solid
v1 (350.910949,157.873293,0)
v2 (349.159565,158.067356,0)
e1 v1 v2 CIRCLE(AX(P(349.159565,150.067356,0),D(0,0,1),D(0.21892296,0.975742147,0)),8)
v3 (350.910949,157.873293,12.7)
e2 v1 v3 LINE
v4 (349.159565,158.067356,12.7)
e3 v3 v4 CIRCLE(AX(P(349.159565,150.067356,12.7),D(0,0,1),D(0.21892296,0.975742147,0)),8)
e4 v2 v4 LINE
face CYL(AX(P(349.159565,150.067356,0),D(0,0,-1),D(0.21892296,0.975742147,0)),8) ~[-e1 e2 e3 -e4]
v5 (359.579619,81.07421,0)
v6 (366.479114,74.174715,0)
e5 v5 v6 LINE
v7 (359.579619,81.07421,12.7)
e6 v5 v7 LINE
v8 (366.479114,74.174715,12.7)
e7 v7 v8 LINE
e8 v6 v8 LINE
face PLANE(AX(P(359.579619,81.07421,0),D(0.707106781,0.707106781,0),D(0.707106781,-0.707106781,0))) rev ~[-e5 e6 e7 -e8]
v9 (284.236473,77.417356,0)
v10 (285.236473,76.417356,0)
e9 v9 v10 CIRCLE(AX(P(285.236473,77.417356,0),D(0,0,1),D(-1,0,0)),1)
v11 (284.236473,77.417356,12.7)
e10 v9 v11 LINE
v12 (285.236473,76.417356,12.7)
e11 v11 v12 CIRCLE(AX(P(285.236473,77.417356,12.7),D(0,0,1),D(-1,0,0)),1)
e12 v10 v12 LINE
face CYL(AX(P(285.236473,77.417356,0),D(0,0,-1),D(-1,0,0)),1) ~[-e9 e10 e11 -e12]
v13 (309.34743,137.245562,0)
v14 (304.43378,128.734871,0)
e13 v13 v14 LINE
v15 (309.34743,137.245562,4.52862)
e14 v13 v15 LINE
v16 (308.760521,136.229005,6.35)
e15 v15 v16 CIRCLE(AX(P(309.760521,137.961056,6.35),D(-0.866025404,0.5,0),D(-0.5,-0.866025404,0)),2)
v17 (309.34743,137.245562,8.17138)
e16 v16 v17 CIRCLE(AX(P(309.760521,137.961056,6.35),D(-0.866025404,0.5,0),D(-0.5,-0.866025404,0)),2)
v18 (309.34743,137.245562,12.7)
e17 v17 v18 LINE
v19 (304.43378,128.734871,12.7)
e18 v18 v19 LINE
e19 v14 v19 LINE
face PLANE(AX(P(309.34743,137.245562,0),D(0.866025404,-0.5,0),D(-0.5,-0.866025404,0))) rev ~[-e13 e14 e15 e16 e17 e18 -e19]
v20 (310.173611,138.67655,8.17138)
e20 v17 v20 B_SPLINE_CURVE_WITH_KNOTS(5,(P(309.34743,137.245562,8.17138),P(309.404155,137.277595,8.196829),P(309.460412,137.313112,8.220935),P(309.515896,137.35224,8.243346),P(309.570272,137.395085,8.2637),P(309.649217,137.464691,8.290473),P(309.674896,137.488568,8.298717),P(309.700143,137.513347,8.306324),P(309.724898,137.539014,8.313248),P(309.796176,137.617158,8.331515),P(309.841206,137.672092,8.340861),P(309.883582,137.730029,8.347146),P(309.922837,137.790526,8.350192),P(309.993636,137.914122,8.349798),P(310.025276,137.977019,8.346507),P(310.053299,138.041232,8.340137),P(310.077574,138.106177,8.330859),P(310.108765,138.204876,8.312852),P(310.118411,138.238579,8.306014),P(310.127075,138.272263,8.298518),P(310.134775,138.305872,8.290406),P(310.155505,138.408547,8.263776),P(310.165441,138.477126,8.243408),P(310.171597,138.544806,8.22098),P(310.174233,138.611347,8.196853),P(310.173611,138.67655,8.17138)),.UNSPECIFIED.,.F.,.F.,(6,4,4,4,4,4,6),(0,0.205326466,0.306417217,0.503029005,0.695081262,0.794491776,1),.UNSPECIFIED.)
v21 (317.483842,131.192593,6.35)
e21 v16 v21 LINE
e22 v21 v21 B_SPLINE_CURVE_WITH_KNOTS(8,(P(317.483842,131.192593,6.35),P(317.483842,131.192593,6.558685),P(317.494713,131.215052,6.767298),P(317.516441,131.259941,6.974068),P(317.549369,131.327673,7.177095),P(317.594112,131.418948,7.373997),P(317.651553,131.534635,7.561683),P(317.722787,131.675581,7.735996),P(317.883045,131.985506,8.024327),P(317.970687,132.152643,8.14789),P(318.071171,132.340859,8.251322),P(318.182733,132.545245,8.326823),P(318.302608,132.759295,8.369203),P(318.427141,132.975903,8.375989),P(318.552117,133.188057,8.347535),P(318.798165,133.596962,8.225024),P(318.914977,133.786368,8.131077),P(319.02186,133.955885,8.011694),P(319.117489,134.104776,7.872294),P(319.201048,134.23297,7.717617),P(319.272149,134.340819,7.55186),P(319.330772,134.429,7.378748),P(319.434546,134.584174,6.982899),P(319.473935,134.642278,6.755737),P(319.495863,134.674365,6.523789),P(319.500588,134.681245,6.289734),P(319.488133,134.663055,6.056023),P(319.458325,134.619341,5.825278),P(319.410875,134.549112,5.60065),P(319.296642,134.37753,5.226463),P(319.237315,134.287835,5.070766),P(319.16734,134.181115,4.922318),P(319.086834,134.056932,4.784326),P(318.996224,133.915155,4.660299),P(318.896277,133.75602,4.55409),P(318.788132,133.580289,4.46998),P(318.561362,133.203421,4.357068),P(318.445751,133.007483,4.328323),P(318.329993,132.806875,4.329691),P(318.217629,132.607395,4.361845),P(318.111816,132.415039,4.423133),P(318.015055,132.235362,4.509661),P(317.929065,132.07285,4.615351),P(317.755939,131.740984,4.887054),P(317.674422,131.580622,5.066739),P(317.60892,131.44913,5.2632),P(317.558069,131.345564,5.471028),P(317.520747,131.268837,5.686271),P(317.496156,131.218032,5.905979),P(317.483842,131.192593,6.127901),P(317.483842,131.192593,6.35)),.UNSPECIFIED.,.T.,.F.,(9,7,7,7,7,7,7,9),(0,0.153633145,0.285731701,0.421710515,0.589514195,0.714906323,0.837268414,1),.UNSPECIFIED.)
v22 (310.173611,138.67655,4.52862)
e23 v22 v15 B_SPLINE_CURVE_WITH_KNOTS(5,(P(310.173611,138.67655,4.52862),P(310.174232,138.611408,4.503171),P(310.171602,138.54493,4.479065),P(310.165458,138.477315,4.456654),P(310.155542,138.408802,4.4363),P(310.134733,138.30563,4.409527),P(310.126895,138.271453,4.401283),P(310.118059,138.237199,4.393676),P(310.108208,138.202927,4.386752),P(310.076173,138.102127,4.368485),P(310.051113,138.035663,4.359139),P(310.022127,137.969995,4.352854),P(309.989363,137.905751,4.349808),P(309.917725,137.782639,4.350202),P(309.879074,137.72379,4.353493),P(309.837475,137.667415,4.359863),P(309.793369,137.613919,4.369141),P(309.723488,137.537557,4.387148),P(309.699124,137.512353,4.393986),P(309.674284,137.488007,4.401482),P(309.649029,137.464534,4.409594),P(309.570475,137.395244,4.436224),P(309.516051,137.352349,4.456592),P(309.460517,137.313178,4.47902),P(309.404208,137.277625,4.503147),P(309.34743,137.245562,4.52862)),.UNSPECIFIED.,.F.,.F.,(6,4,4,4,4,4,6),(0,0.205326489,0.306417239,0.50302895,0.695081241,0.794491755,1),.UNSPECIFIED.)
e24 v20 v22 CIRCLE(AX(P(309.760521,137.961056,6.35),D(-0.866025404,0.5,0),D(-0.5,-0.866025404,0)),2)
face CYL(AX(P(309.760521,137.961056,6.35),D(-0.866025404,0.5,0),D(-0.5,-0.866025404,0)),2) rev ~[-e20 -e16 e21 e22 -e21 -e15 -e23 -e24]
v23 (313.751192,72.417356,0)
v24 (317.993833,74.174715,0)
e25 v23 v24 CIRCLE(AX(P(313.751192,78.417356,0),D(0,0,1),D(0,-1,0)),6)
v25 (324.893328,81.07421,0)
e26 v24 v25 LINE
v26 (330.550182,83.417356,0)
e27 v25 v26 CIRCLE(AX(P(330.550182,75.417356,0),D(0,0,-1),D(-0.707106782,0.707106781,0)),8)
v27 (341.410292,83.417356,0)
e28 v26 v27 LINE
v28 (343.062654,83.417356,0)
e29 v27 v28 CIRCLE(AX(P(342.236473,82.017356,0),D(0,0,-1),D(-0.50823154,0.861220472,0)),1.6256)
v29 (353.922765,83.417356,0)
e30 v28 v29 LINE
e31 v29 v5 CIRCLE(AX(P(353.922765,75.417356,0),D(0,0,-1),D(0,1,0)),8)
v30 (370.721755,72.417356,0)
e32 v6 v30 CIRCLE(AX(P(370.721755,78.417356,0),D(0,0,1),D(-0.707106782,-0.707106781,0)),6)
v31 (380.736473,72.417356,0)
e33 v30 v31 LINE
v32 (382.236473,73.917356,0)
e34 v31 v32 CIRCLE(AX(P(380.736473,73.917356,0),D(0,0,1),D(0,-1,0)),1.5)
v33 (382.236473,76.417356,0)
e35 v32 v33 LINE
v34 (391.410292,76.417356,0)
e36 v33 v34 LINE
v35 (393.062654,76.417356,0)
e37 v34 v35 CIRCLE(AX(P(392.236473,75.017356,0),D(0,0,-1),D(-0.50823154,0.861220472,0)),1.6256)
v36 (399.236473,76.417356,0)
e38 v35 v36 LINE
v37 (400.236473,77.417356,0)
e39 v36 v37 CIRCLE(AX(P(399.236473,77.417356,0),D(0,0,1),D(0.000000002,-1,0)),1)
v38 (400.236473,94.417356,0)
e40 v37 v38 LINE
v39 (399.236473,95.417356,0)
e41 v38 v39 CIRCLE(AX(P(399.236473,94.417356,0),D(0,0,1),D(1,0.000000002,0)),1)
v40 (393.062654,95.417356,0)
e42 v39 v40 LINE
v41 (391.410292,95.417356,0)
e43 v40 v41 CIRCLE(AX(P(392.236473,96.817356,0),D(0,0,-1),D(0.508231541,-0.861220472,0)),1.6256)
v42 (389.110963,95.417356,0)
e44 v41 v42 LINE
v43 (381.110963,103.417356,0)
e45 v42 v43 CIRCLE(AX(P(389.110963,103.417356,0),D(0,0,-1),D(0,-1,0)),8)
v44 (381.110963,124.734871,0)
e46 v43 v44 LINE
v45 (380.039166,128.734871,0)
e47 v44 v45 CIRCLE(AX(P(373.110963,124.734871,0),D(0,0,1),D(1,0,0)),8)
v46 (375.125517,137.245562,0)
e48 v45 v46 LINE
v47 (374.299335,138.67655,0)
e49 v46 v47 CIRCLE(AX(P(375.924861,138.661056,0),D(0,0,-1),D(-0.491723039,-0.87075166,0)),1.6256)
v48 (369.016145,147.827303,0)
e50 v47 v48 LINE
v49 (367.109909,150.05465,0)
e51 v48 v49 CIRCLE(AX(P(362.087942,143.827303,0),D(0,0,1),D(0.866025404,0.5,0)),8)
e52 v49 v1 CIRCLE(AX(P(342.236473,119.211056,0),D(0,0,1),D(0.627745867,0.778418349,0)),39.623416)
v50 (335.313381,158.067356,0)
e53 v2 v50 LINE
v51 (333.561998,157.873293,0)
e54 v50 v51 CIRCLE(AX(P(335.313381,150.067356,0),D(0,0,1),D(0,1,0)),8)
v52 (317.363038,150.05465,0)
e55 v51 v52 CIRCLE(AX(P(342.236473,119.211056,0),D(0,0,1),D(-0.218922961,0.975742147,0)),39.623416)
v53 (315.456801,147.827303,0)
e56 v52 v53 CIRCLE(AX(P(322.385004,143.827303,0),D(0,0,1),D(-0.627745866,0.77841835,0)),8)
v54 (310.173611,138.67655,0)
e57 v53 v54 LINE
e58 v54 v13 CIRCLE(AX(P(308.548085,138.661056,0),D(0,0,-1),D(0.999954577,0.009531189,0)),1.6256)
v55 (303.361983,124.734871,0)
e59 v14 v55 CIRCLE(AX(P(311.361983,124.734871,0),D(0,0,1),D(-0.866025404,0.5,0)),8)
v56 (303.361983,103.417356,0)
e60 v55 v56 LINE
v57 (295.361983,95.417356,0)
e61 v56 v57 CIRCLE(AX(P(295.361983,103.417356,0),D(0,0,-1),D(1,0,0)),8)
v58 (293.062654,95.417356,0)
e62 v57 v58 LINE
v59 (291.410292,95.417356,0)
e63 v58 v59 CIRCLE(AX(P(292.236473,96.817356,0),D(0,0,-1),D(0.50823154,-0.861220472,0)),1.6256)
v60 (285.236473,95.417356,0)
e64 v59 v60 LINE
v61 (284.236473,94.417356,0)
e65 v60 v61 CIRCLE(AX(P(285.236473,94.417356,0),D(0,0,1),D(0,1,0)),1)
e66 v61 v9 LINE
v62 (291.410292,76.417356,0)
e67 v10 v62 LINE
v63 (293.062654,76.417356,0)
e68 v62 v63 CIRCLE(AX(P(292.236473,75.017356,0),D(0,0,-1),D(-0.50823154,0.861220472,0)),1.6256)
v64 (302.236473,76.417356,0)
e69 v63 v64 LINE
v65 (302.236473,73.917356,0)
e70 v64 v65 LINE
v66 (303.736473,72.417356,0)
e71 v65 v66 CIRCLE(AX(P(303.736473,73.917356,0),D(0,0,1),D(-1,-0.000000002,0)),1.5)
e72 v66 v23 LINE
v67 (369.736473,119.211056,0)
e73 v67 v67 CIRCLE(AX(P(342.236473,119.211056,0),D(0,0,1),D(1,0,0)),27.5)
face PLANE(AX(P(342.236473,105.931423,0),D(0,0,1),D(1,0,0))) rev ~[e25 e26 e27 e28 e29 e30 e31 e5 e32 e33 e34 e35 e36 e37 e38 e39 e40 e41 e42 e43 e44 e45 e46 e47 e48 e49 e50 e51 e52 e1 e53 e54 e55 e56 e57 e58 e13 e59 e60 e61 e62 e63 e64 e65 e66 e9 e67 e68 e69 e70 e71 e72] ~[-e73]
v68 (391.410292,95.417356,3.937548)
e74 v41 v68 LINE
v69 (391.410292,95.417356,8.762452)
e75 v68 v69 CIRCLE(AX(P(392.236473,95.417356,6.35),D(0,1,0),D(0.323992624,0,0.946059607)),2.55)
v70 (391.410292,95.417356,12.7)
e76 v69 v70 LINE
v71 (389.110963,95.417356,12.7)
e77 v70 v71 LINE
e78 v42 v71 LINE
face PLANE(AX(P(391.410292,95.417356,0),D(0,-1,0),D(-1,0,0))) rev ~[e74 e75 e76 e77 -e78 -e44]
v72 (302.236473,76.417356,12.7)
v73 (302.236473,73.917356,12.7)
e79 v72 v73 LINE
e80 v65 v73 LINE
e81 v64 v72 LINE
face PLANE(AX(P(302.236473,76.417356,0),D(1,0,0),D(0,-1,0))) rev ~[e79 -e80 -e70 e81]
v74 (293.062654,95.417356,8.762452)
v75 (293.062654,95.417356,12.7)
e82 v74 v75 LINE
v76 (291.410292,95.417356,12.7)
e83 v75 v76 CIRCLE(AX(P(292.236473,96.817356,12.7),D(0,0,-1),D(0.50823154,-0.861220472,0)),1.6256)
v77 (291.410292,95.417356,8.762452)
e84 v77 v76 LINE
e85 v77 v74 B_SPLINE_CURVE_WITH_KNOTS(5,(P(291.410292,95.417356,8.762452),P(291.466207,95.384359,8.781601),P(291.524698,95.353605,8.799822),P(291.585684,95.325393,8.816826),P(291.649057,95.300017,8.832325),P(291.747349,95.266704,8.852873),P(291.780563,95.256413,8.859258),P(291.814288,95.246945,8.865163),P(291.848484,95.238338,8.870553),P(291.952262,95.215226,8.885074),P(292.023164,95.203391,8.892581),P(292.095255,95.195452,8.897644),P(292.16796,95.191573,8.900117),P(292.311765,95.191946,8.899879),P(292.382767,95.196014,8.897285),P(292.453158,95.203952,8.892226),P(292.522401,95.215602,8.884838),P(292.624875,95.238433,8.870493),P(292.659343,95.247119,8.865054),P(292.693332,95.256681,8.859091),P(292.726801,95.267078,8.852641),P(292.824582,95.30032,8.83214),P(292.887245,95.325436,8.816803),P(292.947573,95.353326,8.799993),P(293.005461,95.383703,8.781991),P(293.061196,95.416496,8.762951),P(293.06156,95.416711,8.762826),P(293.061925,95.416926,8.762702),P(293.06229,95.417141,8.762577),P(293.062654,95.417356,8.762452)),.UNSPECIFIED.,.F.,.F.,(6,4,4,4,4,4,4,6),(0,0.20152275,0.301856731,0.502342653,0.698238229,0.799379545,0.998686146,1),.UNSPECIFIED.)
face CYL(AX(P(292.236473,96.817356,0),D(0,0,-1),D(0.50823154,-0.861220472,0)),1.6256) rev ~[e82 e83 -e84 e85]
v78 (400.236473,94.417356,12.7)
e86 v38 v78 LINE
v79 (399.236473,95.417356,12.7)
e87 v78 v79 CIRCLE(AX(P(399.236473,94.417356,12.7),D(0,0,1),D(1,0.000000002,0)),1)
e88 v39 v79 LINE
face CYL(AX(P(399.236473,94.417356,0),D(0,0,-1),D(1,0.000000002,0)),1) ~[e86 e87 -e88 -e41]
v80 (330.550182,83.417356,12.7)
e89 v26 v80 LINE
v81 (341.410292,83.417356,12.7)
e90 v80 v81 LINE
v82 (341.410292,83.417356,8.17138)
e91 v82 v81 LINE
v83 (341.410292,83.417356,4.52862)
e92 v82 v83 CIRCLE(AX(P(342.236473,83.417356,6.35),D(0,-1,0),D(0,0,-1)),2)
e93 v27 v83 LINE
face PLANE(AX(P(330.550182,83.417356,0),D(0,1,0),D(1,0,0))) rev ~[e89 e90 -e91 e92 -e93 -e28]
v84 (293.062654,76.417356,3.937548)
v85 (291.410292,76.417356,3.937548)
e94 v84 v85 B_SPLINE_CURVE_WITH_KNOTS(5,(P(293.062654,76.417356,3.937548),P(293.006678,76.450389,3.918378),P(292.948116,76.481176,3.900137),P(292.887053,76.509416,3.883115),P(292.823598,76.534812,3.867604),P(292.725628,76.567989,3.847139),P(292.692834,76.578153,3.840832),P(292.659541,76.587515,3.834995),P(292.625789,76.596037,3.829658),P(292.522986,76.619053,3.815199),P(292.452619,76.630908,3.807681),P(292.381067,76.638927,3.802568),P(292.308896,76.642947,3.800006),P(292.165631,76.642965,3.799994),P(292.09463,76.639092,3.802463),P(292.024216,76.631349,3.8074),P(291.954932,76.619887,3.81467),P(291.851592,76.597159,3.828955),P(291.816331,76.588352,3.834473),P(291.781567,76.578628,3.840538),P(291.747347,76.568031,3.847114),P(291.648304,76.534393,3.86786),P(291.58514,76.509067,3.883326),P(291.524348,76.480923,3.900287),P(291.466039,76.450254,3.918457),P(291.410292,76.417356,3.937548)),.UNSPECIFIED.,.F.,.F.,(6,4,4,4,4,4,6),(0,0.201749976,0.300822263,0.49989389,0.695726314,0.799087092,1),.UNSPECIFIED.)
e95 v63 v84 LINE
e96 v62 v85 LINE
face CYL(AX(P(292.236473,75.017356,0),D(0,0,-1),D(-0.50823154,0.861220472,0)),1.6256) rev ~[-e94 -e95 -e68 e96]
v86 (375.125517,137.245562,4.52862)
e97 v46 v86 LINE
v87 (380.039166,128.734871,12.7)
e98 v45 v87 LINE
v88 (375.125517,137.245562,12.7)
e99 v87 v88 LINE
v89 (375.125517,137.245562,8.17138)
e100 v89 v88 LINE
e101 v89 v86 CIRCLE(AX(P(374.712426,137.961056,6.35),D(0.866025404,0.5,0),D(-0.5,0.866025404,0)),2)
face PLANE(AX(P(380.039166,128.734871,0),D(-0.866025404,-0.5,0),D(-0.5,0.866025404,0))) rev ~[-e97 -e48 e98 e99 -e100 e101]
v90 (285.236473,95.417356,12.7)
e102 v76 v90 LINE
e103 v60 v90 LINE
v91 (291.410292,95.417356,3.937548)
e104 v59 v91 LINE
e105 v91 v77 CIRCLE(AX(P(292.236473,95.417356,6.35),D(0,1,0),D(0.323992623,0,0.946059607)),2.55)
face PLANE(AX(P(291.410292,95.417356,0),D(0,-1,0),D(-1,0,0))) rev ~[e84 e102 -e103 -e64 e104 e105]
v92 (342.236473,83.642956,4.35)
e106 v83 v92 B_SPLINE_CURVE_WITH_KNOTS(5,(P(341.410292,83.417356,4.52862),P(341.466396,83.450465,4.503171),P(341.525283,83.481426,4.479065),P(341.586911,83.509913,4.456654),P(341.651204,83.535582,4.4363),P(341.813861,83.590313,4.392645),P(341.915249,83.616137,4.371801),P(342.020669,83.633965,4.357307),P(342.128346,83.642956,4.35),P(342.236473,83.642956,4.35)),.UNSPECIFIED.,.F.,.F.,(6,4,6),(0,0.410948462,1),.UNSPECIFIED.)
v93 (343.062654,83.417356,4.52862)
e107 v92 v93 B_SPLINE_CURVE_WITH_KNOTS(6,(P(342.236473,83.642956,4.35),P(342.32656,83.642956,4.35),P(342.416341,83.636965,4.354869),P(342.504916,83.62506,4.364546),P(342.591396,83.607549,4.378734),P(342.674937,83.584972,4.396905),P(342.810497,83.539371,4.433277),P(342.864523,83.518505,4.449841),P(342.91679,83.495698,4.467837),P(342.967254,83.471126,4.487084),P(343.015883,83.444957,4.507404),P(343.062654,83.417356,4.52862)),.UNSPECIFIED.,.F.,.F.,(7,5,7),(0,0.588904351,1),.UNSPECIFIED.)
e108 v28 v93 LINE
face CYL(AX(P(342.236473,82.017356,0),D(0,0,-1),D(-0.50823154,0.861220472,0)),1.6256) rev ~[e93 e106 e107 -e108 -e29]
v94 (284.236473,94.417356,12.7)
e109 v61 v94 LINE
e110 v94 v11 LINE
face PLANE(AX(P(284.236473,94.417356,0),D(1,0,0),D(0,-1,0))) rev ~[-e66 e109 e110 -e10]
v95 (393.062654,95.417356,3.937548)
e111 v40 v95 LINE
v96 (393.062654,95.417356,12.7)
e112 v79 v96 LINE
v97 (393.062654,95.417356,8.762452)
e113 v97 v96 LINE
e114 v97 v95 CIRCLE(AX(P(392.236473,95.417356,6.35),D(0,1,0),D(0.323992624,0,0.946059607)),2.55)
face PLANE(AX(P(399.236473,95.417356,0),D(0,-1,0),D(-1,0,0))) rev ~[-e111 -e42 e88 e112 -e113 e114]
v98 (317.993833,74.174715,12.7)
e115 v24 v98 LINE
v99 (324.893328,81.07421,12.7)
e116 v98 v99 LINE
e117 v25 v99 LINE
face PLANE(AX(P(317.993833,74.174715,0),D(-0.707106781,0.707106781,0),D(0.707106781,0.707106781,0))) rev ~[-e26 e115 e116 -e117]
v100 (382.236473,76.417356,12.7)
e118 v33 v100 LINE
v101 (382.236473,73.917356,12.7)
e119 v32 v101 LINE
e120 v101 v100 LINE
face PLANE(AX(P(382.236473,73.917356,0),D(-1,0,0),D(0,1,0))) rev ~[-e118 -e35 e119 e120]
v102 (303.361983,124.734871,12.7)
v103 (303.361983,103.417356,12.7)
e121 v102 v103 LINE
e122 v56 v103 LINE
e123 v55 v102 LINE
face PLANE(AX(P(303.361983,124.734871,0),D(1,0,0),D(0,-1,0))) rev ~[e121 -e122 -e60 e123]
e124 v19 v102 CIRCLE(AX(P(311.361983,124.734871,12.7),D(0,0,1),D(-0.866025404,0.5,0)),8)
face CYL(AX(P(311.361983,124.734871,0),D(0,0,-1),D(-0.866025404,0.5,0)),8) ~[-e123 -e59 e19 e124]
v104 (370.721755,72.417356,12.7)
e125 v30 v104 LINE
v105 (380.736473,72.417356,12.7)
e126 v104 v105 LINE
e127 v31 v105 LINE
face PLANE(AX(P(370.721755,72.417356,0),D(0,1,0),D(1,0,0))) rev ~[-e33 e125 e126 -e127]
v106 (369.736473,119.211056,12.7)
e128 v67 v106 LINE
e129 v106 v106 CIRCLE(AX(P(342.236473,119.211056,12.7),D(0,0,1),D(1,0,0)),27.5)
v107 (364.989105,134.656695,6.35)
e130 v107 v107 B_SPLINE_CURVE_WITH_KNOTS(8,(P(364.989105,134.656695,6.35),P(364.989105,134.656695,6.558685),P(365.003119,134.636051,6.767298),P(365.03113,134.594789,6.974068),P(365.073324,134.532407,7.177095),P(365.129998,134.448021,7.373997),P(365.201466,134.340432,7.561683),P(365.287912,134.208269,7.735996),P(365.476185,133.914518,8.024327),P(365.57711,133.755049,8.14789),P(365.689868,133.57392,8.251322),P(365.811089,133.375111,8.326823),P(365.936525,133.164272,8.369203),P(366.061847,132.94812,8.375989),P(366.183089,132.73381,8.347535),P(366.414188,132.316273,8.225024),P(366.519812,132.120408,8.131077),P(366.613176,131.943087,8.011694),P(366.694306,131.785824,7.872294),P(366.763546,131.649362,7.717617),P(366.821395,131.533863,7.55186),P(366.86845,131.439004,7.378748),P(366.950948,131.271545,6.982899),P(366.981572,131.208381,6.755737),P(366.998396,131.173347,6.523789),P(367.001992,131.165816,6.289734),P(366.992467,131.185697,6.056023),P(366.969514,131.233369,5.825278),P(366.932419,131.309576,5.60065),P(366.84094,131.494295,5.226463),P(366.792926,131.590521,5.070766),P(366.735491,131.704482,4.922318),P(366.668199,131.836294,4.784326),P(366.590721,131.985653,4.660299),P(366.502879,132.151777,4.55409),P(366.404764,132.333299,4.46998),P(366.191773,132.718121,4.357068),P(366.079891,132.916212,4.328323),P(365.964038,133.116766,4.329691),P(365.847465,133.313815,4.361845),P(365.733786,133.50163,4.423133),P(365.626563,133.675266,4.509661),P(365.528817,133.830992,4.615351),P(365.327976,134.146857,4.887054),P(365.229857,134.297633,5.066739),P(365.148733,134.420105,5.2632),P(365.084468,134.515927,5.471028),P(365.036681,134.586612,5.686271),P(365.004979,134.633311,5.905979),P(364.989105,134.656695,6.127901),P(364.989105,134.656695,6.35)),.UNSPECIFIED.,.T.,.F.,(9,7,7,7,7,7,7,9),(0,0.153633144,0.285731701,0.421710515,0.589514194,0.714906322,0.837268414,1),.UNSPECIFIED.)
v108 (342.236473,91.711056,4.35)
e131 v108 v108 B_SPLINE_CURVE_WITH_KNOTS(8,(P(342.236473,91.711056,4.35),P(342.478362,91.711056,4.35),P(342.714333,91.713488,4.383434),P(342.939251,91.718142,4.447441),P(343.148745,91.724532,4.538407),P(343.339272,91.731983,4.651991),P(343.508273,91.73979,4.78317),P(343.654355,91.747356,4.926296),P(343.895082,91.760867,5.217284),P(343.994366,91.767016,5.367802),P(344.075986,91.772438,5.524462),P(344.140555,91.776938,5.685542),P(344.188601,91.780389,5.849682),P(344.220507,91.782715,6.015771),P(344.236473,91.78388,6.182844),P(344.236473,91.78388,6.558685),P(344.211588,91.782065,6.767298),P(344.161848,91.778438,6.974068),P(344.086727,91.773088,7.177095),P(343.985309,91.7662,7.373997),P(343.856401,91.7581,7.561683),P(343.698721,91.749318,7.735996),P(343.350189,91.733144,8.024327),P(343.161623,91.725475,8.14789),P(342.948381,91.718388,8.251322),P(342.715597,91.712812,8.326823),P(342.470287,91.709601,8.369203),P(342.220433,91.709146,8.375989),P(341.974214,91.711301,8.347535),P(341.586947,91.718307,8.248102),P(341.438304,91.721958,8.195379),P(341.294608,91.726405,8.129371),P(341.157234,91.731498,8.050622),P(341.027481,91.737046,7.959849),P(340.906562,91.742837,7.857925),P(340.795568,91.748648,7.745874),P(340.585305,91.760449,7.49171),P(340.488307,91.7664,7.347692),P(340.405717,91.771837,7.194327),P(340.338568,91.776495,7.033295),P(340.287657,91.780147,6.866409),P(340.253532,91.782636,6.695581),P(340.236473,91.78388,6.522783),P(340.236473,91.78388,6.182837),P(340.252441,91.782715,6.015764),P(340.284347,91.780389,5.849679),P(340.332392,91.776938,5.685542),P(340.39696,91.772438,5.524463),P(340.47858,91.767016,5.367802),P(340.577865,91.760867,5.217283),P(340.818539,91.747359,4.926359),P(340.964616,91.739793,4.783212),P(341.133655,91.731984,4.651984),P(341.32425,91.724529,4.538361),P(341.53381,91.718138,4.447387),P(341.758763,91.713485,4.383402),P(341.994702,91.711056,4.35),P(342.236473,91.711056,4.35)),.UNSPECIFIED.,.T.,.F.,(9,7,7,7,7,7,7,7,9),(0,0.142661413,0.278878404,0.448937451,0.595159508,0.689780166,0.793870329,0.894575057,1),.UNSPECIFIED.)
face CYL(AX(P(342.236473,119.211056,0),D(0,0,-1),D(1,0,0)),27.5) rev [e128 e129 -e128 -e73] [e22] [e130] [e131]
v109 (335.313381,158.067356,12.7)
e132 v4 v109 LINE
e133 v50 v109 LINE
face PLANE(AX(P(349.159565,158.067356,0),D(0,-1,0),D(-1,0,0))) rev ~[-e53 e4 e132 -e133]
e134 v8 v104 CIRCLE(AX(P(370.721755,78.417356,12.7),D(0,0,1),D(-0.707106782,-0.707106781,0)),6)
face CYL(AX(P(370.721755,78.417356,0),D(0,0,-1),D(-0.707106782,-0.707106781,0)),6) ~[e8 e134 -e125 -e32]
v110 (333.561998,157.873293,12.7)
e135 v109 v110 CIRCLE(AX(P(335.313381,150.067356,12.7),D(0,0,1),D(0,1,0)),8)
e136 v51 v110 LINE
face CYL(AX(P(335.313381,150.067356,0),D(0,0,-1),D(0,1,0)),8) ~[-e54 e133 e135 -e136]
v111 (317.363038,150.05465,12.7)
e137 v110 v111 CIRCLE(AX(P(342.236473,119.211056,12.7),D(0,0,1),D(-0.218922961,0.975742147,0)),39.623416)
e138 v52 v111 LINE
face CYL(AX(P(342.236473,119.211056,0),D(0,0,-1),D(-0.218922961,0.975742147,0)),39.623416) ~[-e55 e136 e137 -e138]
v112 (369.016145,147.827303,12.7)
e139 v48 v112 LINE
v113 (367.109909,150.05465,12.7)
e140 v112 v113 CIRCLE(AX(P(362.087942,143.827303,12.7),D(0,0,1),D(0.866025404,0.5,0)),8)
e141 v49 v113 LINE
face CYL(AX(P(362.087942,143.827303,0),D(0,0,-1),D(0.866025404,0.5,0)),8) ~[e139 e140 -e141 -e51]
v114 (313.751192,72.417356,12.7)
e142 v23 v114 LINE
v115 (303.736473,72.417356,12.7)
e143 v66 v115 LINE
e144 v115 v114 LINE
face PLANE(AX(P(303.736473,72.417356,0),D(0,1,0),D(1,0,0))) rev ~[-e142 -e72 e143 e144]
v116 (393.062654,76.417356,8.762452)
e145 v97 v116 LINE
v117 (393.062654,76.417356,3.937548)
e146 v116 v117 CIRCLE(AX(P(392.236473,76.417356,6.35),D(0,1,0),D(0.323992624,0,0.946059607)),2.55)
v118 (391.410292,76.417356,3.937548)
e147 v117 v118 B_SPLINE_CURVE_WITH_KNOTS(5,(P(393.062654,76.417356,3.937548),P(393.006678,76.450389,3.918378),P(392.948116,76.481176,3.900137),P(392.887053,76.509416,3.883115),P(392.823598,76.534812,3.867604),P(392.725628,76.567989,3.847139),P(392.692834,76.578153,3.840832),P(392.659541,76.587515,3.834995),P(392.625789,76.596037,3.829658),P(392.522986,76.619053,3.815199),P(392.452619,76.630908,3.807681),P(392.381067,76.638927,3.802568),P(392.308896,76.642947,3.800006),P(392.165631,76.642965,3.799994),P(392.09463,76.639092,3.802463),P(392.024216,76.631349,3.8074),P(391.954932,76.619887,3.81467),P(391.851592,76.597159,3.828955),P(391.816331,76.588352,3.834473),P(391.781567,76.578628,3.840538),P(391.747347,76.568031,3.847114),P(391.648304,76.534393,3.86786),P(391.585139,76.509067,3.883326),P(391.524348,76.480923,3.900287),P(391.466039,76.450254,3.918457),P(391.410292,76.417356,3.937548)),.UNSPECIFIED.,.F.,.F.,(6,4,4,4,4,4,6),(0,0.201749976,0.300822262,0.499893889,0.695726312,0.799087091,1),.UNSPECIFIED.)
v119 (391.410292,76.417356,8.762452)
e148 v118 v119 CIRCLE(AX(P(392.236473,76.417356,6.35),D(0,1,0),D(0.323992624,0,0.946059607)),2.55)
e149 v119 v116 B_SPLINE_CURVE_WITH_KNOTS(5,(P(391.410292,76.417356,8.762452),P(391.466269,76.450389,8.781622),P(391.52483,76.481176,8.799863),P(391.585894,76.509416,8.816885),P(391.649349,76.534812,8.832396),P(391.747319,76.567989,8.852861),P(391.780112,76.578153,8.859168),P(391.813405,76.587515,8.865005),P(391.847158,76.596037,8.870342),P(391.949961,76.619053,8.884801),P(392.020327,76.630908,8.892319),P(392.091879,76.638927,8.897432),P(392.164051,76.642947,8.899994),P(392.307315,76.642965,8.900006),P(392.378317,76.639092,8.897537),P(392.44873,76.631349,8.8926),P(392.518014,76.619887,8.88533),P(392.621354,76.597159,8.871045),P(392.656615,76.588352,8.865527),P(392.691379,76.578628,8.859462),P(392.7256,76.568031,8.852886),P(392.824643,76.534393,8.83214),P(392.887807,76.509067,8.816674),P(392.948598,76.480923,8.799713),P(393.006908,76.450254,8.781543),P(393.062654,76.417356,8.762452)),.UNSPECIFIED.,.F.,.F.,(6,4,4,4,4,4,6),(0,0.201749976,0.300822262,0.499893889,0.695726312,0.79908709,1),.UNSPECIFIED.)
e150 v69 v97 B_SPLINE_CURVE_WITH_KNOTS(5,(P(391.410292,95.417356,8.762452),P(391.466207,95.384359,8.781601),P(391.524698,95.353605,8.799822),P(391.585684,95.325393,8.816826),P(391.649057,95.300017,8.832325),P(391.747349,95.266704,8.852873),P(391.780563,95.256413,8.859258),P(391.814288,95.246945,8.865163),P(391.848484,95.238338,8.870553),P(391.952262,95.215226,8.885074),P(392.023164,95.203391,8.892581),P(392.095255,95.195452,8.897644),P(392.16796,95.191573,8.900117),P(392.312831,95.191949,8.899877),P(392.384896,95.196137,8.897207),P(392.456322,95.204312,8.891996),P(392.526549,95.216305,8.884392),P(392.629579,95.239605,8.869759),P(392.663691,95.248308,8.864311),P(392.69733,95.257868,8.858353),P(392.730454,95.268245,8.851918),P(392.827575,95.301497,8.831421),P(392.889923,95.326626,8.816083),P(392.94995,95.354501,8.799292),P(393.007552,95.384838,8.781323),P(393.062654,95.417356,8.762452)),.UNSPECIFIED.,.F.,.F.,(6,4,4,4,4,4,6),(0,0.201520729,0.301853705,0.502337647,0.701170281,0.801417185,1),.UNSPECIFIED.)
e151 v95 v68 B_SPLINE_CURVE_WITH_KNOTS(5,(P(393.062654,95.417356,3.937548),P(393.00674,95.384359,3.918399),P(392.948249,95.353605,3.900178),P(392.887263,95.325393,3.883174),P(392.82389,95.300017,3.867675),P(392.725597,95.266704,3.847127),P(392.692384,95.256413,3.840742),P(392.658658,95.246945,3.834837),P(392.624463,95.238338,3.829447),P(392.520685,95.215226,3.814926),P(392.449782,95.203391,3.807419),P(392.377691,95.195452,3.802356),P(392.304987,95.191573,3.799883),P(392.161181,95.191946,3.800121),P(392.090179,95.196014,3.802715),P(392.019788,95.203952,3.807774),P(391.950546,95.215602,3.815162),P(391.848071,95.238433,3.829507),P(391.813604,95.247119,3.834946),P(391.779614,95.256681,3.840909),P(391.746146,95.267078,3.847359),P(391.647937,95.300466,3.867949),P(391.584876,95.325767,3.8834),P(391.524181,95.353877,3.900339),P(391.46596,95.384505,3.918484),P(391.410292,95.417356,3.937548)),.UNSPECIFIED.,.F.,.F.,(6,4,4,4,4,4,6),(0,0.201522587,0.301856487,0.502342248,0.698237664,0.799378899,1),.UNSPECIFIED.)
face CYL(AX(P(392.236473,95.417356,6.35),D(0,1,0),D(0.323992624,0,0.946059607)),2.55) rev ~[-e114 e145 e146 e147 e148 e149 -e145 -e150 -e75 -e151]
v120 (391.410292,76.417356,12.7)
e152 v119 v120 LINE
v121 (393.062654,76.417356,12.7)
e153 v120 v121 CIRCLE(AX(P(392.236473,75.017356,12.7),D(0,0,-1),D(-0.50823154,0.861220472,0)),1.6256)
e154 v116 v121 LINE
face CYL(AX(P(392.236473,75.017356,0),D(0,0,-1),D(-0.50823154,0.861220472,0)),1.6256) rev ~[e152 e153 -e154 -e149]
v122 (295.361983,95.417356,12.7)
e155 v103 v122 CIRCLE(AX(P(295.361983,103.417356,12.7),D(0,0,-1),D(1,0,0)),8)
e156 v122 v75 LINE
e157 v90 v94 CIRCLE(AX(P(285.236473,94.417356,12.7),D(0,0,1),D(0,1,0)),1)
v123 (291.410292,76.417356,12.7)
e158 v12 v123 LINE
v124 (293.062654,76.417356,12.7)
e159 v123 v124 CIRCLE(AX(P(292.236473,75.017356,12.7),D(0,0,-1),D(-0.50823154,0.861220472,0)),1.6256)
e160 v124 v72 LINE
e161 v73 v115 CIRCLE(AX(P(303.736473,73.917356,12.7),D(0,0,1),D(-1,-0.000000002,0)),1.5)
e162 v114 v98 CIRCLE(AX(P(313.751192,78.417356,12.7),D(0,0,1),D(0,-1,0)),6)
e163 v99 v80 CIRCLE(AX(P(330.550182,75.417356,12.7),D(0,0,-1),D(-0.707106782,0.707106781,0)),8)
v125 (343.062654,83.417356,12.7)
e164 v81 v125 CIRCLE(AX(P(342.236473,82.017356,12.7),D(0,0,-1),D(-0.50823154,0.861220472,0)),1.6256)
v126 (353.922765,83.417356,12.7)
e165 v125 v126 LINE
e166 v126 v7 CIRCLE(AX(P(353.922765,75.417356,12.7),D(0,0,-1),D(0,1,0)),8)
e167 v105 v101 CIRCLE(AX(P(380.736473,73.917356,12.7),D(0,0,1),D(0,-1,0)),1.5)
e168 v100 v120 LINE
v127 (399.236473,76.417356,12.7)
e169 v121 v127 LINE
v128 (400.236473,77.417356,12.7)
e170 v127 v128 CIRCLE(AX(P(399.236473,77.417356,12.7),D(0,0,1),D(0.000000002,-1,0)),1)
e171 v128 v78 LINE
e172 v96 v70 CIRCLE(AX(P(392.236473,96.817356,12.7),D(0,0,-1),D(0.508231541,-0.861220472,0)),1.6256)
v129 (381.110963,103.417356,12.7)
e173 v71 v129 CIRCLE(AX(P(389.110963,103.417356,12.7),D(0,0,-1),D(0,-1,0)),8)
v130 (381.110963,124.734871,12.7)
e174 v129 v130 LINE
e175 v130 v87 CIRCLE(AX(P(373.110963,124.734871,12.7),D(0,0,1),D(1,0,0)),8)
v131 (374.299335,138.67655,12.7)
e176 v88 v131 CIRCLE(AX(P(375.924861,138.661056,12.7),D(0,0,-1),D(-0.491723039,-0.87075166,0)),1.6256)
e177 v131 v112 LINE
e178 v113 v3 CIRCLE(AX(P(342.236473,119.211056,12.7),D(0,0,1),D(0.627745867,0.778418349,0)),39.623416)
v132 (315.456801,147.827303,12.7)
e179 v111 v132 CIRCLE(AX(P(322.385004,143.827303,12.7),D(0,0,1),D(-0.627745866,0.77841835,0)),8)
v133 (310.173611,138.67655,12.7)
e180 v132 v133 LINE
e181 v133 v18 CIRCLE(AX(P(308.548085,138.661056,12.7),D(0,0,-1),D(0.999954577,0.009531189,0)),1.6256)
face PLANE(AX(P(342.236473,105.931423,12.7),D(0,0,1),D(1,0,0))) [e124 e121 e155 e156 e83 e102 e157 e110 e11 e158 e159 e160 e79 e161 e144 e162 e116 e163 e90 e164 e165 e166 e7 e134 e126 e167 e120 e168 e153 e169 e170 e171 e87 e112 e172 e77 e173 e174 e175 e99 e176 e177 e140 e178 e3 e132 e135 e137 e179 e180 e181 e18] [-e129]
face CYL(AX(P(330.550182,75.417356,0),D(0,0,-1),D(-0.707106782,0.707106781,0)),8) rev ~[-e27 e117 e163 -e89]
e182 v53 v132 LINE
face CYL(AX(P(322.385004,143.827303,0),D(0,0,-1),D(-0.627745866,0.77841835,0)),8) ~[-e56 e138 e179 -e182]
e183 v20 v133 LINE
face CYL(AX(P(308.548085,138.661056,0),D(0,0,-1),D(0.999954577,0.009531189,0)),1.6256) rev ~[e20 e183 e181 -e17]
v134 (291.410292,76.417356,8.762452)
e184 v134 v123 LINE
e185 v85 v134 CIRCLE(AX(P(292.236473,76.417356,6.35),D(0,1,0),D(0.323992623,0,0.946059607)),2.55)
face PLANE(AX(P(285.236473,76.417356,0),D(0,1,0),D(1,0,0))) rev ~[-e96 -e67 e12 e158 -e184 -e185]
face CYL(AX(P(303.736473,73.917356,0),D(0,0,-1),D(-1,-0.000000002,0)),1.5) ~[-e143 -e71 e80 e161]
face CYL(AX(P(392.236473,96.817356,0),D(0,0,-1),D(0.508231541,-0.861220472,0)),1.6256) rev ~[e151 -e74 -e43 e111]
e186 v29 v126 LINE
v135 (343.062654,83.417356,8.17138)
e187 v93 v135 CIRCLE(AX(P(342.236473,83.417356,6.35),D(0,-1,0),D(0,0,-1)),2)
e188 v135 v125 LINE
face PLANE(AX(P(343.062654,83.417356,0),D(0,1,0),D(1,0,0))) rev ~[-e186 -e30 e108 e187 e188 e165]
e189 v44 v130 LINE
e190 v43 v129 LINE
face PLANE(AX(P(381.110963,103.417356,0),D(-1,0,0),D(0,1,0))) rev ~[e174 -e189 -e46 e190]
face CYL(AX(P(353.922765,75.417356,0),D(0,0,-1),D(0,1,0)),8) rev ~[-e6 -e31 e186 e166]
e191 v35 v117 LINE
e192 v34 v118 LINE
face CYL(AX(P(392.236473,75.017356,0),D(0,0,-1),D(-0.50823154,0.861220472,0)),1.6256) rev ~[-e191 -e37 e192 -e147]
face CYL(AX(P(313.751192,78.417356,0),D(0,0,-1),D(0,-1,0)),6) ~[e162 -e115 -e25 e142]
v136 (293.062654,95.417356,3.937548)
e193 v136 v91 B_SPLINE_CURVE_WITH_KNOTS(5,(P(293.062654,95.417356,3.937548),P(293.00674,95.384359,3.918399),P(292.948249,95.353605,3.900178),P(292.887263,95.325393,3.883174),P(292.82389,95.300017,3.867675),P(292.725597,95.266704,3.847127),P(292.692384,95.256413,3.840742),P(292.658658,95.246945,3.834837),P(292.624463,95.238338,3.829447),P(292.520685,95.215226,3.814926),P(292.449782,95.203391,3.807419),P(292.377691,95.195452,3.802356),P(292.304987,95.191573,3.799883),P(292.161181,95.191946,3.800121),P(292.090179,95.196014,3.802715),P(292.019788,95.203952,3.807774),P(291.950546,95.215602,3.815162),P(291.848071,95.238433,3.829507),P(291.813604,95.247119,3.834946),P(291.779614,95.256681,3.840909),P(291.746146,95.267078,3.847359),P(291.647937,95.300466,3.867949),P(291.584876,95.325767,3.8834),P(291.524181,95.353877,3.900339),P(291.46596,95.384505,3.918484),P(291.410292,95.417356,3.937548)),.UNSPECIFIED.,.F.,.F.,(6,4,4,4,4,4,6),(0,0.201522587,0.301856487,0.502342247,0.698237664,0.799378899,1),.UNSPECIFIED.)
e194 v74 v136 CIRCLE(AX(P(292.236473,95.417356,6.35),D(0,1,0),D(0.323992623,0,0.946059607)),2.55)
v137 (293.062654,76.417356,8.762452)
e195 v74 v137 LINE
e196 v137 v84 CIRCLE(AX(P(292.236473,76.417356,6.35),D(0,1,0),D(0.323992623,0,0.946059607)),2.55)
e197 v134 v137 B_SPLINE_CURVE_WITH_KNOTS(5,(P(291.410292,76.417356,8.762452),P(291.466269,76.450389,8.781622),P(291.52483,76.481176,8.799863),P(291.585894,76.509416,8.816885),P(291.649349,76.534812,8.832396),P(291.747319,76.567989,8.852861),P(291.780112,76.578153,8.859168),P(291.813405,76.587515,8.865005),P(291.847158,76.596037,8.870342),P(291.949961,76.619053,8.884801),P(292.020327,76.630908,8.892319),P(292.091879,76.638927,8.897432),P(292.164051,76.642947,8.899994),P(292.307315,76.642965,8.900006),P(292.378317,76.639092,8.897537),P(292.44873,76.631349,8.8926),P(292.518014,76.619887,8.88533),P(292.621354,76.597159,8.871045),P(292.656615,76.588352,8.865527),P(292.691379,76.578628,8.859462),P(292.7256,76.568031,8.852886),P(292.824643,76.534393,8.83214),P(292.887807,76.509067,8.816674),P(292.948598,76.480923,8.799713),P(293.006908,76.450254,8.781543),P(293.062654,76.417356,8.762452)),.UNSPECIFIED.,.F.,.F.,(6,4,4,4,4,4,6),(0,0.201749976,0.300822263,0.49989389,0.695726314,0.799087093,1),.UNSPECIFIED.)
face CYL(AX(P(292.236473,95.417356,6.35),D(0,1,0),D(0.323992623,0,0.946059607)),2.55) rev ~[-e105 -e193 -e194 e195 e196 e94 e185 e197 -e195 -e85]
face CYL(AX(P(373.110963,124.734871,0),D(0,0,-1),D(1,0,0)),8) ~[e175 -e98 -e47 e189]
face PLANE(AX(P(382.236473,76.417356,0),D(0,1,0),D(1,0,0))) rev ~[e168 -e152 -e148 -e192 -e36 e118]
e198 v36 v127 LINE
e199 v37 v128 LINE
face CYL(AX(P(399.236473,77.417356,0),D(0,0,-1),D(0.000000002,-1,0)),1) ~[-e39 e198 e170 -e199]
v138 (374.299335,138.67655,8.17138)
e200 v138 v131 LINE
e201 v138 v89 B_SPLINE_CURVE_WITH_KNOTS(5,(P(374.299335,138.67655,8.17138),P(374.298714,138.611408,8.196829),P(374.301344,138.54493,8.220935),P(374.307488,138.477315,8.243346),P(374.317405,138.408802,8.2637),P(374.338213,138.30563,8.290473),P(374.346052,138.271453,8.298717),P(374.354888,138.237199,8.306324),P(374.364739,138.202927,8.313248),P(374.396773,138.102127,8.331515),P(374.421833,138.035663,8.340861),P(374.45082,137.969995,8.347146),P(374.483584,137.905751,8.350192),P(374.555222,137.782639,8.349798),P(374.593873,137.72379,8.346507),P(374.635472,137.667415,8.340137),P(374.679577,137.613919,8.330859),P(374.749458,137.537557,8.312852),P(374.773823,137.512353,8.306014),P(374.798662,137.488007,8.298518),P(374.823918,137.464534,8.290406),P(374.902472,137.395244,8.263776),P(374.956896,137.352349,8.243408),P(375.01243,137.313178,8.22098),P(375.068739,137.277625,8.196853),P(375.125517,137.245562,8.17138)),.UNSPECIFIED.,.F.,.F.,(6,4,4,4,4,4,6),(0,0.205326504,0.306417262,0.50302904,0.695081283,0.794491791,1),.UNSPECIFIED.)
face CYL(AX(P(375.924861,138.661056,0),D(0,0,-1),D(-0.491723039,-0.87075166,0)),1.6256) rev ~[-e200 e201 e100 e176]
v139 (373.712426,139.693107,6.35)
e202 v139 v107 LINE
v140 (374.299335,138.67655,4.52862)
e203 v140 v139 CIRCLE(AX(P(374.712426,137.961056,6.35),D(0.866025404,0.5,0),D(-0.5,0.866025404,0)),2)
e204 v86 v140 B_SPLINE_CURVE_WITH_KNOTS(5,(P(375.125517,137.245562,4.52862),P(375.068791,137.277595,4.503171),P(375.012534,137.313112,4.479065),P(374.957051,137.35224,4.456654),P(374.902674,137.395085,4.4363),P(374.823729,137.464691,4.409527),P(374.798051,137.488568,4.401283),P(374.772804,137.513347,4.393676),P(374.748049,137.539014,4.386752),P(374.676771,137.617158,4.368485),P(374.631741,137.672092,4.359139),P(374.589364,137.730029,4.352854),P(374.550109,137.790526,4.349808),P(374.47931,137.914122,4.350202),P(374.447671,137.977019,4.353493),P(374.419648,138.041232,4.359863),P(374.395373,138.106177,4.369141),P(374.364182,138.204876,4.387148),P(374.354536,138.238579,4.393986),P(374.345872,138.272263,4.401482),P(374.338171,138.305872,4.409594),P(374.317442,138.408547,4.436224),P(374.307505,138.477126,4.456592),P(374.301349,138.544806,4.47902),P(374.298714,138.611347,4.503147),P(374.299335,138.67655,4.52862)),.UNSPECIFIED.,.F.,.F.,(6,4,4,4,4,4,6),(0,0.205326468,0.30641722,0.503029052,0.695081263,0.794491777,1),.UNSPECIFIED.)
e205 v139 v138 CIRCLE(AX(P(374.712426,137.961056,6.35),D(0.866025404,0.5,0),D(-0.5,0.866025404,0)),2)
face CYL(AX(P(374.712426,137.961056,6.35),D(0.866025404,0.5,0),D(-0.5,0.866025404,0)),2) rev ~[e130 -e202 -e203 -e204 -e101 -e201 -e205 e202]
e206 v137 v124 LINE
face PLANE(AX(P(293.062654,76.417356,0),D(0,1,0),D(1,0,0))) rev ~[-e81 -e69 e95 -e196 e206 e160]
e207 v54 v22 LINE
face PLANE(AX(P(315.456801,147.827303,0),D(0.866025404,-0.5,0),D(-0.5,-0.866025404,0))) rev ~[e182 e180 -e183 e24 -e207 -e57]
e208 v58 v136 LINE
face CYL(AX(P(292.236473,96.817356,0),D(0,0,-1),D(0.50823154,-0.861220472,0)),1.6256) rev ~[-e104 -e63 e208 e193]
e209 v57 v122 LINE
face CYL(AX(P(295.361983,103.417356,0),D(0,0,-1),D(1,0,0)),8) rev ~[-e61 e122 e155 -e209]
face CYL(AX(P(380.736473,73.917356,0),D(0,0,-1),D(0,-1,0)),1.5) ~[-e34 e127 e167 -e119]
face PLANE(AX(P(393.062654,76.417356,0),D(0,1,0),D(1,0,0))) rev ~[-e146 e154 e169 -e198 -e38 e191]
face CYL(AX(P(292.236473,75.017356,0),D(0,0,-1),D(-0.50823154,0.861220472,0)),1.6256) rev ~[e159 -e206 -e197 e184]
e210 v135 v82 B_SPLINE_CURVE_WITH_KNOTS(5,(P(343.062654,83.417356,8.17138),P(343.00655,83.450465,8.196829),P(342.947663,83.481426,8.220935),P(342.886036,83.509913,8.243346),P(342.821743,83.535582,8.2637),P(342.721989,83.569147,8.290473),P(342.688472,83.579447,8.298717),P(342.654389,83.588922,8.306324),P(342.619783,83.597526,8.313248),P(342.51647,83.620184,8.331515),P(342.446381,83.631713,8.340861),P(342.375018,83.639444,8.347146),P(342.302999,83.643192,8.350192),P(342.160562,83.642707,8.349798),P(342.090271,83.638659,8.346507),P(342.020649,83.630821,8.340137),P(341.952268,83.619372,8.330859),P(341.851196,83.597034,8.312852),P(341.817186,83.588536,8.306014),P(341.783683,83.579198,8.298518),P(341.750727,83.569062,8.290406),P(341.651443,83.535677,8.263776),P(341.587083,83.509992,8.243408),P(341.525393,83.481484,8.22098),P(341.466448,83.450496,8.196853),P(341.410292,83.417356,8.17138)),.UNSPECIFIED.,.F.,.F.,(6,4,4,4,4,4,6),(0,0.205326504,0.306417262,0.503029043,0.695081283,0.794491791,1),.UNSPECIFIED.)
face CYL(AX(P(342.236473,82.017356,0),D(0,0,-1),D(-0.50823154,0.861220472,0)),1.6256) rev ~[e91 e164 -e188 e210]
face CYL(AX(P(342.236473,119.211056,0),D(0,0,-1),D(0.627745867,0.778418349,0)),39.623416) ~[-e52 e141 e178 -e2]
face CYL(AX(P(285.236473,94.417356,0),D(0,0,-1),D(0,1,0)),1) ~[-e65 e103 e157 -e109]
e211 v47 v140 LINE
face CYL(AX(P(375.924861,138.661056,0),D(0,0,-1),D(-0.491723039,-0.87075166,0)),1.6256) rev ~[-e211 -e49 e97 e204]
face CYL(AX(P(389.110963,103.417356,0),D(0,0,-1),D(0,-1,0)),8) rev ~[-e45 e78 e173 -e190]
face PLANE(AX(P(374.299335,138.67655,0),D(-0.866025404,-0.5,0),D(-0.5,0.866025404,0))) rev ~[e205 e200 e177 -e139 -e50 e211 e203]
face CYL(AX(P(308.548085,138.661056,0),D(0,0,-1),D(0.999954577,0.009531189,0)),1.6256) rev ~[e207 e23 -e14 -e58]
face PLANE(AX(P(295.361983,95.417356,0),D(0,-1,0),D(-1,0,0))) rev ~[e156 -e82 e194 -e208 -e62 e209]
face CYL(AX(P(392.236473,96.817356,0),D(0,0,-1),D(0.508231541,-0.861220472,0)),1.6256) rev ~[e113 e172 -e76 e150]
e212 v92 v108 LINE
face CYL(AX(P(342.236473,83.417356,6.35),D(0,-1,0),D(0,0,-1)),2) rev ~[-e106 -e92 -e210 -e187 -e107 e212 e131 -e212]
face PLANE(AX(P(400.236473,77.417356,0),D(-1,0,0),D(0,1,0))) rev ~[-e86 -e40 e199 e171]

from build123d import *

# Parameters (mm, degrees)
SKETCH1_R           = 27.500000001
BOSS_EXTRUDE1_DEPTH = 12.7
SKETCH2_R           = 2.55
CUT_EXTRUDE1_DEPTH  = 406.309199291
SKETCH4_R           = 2
CUT_EXTRUDE2_DEPTH  = 15
SKETCH5_R           = 2
CUT_EXTRUDE3_DEPTH  = 15
SKETCH3_R           = 2
CUT_EXTRUDE4_DEPTH  = 15


with BuildPart() as part:
    # Sketch1 → Boss-Extrude1 (new body)
    with BuildSketch(Plane.XY):
        with BuildLine():
            Line((284.236473266, 94.417355971), (284.236473266, 77.41735597))
            ThreePointArc((284.236473266, 77.41735597), (284.529366484, 76.71024919), (285.236473265, 76.417355971))
            Line((285.236473265, 76.417355971), (291.410292076, 76.417355971))
            ThreePointArc((291.410292076, 76.417355971), (292.236473265, 76.642955971), (293.062654455, 76.417355971))
            Line((293.062654455, 76.417355971), (302.236473265, 76.417355971))
            Line((302.236473265, 76.417355971), (302.236473265, 73.91735597))
            ThreePointArc((302.236473265, 73.91735597), (302.675813094, 72.856695799), (303.736473265, 72.41735597))
            Line((303.736473265, 72.41735597), (313.751191892, 72.41735597))
            ThreePointArc((313.751191892, 72.41735597), (316.047292486, 72.874078775), (317.993832578, 74.174715283))
            Line((317.993832578, 74.174715283), (324.893327515, 81.074210219))
            ThreePointArc((324.893327515, 81.074210219), (327.488714305, 82.80839223), (330.550181764, 83.417355969))
            Line((330.550181764, 83.417355969), (341.410292075, 83.417355969))
            ThreePointArc((341.410292075, 83.417355969), (342.236473267, 83.642955969), (343.062654458, 83.417355968))
            Line((343.062654458, 83.417355968), (353.922764767, 83.417355968))
            ThreePointArc((353.922764767, 83.417355968), (356.984232225, 82.808392228), (359.579619016, 81.074210218))
            Line((359.579619016, 81.074210218), (366.479113952, 74.174715282))
            ThreePointArc((366.479113952, 74.174715282), (368.425654045, 72.874078773), (370.72175464, 72.417355968))
            Line((370.72175464, 72.417355968), (380.736473265, 72.417355968))
            ThreePointArc((380.736473265, 72.417355968), (381.797133436, 72.856695796), (382.236473264, 73.917355967))
            Line((382.236473264, 73.917355967), (382.236473264, 76.417355972))
            Line((382.236473264, 76.417355972), (391.410292073, 76.417355972))
            ThreePointArc((391.410292073, 76.417355972), (392.236473265, 76.642955972), (393.062654456, 76.417355971))
            Line((393.062654456, 76.417355971), (399.236473264, 76.417355971))
            ThreePointArc((399.236473264, 76.417355971), (399.943580044, 76.71024919), (400.236473263, 77.41735597))
            Line((400.236473263, 77.41735597), (400.236473263, 94.417355971))
            ThreePointArc((400.236473263, 94.417355971), (399.943580044, 95.124462751), (399.236473264, 95.41735597))
            Line((399.236473264, 95.41735597), (393.062654456, 95.41735597))
            ThreePointArc((393.062654456, 95.41735597), (392.236473265, 95.191755969), (391.410292073, 95.417355969))
            Line((391.410292073, 95.417355969), (389.110963045, 95.417355969))
            ThreePointArc((389.110963045, 95.417355969), (383.454108795, 97.760501719), (381.110963044, 103.417355969))
            Line((381.110963044, 103.417355969), (381.110963044, 124.734871013))
            ThreePointArc((381.110963044, 124.734871013), (380.838369654, 126.805423374), (380.039166274, 128.734871013))
            Line((380.039166274, 128.734871013), (375.125516501, 137.245562071))
            ThreePointArc((375.125516501, 137.245562071), (374.517050575, 137.848255971), (374.299335311, 138.676549871))
            Line((374.299335311, 138.676549871), (369.016145298, 147.8273034))
            ThreePointArc((369.016145298, 147.8273034), (368.165927768, 149.029042515), (367.109909002, 150.054650194))
            ThreePointArc((367.109909002, 150.054650194), (359.459956736, 154.89532039), (350.910948847, 157.873293146))
            ThreePointArc((350.910948847, 157.873293146), (350.040616408, 158.018692254), (349.159565162, 158.06735597))
            Line((349.159565162, 158.06735597), (335.313381368, 158.06735597))
            ThreePointArc((335.313381368, 158.06735597), (334.432330122, 158.018692254), (333.561997683, 157.873293146))
            ThreePointArc((333.561997683, 157.873293146), (325.012989794, 154.89532039), (317.363037528, 150.054650194))
            ThreePointArc((317.363037528, 150.054650194), (316.307018762, 149.029042515), (315.456801232, 147.8273034))
            Line((315.456801232, 147.8273034), (310.173611219, 138.676549871))
            ThreePointArc((310.173611219, 138.676549871), (309.955895955, 137.848255971), (309.34743003, 137.245562072))
            Line((309.34743003, 137.245562072), (304.433780256, 128.734871013))
            ThreePointArc((304.433780256, 128.734871013), (303.634576876, 126.805423374), (303.361983486, 124.734871013))
            Line((303.361983486, 124.734871013), (303.361983486, 103.417355969))
            ThreePointArc((303.361983486, 103.417355969), (301.018837735, 97.76050172), (295.361983486, 95.41735597))
            Line((295.361983486, 95.41735597), (293.062654455, 95.41735597))
            ThreePointArc((293.062654455, 95.41735597), (292.236473265, 95.19175597), (291.410292076, 95.41735597))
            Line((291.410292076, 95.41735597), (285.236473265, 95.41735597))
            ThreePointArc((285.236473265, 95.41735597), (284.529366484, 95.124462751), (284.236473266, 94.417355971))
        make_face()
        with Locations((342.236473265, 119.21105597)):
            Circle(SKETCH1_R, mode=Mode.SUBTRACT)
    extrude(amount=BOSS_EXTRUDE1_DEPTH)

    # Sketch2 → Cut-Extrude1 (cut, through all)
    with BuildSketch(Plane(origin=(0, 95.41735597, 0), x_dir=(1, 0, 0), z_dir=(0, 1, 0))):
        with Locations(Location((292.236473265, -6.35, 0), (0, 0, 288.904554562))):
            Circle(SKETCH2_R)
        with Locations(Location((392.236473265, -6.35, 0), (0, 0, 288.904554598))):
            Circle(SKETCH2_R)
    extrude(amount=-CUT_EXTRUDE1_DEPTH, mode=Mode.SUBTRACT)

    # Sketch4 → Cut-Extrude2 (cut)
    with BuildSketch(Plane(origin=(172.581500867, -99.639975983, 0), x_dir=(0, 0, 1), z_dir=(-0.8660254037844396, 0.49999999999999856, 0))):
        with Locations(Location((6.35, 274.358039516, 0), (0, 0, 270))):
            Circle(SKETCH4_R)
    extrude(amount=-CUT_EXTRUDE2_DEPTH, mode=Mode.SUBTRACT)

    # Sketch5 → Cut-Extrude3 (cut)
    with BuildSketch(Plane(origin=(340.773209032, 196.745503967, 0), x_dir=(0, 0, -1), z_dir=(0.8660254037844377, 0.5000000000000019, 0))):
        with Locations(Location((-6.35, -67.87843375, 0), (0, 0, 90))):
            Circle(SKETCH5_R)
    extrude(amount=-CUT_EXTRUDE3_DEPTH, mode=Mode.SUBTRACT)

    # Sketch3 → Cut-Extrude4 (cut)
    with BuildSketch(Plane.XZ.offset(-83.417355968)):
        with Locations(Location((342.236473266, 6.35, 0), (0, 0, 270))):
            Circle(SKETCH3_R)
    extrude(amount=-CUT_EXTRUDE4_DEPTH, mode=Mode.SUBTRACT)


solid = part.part
